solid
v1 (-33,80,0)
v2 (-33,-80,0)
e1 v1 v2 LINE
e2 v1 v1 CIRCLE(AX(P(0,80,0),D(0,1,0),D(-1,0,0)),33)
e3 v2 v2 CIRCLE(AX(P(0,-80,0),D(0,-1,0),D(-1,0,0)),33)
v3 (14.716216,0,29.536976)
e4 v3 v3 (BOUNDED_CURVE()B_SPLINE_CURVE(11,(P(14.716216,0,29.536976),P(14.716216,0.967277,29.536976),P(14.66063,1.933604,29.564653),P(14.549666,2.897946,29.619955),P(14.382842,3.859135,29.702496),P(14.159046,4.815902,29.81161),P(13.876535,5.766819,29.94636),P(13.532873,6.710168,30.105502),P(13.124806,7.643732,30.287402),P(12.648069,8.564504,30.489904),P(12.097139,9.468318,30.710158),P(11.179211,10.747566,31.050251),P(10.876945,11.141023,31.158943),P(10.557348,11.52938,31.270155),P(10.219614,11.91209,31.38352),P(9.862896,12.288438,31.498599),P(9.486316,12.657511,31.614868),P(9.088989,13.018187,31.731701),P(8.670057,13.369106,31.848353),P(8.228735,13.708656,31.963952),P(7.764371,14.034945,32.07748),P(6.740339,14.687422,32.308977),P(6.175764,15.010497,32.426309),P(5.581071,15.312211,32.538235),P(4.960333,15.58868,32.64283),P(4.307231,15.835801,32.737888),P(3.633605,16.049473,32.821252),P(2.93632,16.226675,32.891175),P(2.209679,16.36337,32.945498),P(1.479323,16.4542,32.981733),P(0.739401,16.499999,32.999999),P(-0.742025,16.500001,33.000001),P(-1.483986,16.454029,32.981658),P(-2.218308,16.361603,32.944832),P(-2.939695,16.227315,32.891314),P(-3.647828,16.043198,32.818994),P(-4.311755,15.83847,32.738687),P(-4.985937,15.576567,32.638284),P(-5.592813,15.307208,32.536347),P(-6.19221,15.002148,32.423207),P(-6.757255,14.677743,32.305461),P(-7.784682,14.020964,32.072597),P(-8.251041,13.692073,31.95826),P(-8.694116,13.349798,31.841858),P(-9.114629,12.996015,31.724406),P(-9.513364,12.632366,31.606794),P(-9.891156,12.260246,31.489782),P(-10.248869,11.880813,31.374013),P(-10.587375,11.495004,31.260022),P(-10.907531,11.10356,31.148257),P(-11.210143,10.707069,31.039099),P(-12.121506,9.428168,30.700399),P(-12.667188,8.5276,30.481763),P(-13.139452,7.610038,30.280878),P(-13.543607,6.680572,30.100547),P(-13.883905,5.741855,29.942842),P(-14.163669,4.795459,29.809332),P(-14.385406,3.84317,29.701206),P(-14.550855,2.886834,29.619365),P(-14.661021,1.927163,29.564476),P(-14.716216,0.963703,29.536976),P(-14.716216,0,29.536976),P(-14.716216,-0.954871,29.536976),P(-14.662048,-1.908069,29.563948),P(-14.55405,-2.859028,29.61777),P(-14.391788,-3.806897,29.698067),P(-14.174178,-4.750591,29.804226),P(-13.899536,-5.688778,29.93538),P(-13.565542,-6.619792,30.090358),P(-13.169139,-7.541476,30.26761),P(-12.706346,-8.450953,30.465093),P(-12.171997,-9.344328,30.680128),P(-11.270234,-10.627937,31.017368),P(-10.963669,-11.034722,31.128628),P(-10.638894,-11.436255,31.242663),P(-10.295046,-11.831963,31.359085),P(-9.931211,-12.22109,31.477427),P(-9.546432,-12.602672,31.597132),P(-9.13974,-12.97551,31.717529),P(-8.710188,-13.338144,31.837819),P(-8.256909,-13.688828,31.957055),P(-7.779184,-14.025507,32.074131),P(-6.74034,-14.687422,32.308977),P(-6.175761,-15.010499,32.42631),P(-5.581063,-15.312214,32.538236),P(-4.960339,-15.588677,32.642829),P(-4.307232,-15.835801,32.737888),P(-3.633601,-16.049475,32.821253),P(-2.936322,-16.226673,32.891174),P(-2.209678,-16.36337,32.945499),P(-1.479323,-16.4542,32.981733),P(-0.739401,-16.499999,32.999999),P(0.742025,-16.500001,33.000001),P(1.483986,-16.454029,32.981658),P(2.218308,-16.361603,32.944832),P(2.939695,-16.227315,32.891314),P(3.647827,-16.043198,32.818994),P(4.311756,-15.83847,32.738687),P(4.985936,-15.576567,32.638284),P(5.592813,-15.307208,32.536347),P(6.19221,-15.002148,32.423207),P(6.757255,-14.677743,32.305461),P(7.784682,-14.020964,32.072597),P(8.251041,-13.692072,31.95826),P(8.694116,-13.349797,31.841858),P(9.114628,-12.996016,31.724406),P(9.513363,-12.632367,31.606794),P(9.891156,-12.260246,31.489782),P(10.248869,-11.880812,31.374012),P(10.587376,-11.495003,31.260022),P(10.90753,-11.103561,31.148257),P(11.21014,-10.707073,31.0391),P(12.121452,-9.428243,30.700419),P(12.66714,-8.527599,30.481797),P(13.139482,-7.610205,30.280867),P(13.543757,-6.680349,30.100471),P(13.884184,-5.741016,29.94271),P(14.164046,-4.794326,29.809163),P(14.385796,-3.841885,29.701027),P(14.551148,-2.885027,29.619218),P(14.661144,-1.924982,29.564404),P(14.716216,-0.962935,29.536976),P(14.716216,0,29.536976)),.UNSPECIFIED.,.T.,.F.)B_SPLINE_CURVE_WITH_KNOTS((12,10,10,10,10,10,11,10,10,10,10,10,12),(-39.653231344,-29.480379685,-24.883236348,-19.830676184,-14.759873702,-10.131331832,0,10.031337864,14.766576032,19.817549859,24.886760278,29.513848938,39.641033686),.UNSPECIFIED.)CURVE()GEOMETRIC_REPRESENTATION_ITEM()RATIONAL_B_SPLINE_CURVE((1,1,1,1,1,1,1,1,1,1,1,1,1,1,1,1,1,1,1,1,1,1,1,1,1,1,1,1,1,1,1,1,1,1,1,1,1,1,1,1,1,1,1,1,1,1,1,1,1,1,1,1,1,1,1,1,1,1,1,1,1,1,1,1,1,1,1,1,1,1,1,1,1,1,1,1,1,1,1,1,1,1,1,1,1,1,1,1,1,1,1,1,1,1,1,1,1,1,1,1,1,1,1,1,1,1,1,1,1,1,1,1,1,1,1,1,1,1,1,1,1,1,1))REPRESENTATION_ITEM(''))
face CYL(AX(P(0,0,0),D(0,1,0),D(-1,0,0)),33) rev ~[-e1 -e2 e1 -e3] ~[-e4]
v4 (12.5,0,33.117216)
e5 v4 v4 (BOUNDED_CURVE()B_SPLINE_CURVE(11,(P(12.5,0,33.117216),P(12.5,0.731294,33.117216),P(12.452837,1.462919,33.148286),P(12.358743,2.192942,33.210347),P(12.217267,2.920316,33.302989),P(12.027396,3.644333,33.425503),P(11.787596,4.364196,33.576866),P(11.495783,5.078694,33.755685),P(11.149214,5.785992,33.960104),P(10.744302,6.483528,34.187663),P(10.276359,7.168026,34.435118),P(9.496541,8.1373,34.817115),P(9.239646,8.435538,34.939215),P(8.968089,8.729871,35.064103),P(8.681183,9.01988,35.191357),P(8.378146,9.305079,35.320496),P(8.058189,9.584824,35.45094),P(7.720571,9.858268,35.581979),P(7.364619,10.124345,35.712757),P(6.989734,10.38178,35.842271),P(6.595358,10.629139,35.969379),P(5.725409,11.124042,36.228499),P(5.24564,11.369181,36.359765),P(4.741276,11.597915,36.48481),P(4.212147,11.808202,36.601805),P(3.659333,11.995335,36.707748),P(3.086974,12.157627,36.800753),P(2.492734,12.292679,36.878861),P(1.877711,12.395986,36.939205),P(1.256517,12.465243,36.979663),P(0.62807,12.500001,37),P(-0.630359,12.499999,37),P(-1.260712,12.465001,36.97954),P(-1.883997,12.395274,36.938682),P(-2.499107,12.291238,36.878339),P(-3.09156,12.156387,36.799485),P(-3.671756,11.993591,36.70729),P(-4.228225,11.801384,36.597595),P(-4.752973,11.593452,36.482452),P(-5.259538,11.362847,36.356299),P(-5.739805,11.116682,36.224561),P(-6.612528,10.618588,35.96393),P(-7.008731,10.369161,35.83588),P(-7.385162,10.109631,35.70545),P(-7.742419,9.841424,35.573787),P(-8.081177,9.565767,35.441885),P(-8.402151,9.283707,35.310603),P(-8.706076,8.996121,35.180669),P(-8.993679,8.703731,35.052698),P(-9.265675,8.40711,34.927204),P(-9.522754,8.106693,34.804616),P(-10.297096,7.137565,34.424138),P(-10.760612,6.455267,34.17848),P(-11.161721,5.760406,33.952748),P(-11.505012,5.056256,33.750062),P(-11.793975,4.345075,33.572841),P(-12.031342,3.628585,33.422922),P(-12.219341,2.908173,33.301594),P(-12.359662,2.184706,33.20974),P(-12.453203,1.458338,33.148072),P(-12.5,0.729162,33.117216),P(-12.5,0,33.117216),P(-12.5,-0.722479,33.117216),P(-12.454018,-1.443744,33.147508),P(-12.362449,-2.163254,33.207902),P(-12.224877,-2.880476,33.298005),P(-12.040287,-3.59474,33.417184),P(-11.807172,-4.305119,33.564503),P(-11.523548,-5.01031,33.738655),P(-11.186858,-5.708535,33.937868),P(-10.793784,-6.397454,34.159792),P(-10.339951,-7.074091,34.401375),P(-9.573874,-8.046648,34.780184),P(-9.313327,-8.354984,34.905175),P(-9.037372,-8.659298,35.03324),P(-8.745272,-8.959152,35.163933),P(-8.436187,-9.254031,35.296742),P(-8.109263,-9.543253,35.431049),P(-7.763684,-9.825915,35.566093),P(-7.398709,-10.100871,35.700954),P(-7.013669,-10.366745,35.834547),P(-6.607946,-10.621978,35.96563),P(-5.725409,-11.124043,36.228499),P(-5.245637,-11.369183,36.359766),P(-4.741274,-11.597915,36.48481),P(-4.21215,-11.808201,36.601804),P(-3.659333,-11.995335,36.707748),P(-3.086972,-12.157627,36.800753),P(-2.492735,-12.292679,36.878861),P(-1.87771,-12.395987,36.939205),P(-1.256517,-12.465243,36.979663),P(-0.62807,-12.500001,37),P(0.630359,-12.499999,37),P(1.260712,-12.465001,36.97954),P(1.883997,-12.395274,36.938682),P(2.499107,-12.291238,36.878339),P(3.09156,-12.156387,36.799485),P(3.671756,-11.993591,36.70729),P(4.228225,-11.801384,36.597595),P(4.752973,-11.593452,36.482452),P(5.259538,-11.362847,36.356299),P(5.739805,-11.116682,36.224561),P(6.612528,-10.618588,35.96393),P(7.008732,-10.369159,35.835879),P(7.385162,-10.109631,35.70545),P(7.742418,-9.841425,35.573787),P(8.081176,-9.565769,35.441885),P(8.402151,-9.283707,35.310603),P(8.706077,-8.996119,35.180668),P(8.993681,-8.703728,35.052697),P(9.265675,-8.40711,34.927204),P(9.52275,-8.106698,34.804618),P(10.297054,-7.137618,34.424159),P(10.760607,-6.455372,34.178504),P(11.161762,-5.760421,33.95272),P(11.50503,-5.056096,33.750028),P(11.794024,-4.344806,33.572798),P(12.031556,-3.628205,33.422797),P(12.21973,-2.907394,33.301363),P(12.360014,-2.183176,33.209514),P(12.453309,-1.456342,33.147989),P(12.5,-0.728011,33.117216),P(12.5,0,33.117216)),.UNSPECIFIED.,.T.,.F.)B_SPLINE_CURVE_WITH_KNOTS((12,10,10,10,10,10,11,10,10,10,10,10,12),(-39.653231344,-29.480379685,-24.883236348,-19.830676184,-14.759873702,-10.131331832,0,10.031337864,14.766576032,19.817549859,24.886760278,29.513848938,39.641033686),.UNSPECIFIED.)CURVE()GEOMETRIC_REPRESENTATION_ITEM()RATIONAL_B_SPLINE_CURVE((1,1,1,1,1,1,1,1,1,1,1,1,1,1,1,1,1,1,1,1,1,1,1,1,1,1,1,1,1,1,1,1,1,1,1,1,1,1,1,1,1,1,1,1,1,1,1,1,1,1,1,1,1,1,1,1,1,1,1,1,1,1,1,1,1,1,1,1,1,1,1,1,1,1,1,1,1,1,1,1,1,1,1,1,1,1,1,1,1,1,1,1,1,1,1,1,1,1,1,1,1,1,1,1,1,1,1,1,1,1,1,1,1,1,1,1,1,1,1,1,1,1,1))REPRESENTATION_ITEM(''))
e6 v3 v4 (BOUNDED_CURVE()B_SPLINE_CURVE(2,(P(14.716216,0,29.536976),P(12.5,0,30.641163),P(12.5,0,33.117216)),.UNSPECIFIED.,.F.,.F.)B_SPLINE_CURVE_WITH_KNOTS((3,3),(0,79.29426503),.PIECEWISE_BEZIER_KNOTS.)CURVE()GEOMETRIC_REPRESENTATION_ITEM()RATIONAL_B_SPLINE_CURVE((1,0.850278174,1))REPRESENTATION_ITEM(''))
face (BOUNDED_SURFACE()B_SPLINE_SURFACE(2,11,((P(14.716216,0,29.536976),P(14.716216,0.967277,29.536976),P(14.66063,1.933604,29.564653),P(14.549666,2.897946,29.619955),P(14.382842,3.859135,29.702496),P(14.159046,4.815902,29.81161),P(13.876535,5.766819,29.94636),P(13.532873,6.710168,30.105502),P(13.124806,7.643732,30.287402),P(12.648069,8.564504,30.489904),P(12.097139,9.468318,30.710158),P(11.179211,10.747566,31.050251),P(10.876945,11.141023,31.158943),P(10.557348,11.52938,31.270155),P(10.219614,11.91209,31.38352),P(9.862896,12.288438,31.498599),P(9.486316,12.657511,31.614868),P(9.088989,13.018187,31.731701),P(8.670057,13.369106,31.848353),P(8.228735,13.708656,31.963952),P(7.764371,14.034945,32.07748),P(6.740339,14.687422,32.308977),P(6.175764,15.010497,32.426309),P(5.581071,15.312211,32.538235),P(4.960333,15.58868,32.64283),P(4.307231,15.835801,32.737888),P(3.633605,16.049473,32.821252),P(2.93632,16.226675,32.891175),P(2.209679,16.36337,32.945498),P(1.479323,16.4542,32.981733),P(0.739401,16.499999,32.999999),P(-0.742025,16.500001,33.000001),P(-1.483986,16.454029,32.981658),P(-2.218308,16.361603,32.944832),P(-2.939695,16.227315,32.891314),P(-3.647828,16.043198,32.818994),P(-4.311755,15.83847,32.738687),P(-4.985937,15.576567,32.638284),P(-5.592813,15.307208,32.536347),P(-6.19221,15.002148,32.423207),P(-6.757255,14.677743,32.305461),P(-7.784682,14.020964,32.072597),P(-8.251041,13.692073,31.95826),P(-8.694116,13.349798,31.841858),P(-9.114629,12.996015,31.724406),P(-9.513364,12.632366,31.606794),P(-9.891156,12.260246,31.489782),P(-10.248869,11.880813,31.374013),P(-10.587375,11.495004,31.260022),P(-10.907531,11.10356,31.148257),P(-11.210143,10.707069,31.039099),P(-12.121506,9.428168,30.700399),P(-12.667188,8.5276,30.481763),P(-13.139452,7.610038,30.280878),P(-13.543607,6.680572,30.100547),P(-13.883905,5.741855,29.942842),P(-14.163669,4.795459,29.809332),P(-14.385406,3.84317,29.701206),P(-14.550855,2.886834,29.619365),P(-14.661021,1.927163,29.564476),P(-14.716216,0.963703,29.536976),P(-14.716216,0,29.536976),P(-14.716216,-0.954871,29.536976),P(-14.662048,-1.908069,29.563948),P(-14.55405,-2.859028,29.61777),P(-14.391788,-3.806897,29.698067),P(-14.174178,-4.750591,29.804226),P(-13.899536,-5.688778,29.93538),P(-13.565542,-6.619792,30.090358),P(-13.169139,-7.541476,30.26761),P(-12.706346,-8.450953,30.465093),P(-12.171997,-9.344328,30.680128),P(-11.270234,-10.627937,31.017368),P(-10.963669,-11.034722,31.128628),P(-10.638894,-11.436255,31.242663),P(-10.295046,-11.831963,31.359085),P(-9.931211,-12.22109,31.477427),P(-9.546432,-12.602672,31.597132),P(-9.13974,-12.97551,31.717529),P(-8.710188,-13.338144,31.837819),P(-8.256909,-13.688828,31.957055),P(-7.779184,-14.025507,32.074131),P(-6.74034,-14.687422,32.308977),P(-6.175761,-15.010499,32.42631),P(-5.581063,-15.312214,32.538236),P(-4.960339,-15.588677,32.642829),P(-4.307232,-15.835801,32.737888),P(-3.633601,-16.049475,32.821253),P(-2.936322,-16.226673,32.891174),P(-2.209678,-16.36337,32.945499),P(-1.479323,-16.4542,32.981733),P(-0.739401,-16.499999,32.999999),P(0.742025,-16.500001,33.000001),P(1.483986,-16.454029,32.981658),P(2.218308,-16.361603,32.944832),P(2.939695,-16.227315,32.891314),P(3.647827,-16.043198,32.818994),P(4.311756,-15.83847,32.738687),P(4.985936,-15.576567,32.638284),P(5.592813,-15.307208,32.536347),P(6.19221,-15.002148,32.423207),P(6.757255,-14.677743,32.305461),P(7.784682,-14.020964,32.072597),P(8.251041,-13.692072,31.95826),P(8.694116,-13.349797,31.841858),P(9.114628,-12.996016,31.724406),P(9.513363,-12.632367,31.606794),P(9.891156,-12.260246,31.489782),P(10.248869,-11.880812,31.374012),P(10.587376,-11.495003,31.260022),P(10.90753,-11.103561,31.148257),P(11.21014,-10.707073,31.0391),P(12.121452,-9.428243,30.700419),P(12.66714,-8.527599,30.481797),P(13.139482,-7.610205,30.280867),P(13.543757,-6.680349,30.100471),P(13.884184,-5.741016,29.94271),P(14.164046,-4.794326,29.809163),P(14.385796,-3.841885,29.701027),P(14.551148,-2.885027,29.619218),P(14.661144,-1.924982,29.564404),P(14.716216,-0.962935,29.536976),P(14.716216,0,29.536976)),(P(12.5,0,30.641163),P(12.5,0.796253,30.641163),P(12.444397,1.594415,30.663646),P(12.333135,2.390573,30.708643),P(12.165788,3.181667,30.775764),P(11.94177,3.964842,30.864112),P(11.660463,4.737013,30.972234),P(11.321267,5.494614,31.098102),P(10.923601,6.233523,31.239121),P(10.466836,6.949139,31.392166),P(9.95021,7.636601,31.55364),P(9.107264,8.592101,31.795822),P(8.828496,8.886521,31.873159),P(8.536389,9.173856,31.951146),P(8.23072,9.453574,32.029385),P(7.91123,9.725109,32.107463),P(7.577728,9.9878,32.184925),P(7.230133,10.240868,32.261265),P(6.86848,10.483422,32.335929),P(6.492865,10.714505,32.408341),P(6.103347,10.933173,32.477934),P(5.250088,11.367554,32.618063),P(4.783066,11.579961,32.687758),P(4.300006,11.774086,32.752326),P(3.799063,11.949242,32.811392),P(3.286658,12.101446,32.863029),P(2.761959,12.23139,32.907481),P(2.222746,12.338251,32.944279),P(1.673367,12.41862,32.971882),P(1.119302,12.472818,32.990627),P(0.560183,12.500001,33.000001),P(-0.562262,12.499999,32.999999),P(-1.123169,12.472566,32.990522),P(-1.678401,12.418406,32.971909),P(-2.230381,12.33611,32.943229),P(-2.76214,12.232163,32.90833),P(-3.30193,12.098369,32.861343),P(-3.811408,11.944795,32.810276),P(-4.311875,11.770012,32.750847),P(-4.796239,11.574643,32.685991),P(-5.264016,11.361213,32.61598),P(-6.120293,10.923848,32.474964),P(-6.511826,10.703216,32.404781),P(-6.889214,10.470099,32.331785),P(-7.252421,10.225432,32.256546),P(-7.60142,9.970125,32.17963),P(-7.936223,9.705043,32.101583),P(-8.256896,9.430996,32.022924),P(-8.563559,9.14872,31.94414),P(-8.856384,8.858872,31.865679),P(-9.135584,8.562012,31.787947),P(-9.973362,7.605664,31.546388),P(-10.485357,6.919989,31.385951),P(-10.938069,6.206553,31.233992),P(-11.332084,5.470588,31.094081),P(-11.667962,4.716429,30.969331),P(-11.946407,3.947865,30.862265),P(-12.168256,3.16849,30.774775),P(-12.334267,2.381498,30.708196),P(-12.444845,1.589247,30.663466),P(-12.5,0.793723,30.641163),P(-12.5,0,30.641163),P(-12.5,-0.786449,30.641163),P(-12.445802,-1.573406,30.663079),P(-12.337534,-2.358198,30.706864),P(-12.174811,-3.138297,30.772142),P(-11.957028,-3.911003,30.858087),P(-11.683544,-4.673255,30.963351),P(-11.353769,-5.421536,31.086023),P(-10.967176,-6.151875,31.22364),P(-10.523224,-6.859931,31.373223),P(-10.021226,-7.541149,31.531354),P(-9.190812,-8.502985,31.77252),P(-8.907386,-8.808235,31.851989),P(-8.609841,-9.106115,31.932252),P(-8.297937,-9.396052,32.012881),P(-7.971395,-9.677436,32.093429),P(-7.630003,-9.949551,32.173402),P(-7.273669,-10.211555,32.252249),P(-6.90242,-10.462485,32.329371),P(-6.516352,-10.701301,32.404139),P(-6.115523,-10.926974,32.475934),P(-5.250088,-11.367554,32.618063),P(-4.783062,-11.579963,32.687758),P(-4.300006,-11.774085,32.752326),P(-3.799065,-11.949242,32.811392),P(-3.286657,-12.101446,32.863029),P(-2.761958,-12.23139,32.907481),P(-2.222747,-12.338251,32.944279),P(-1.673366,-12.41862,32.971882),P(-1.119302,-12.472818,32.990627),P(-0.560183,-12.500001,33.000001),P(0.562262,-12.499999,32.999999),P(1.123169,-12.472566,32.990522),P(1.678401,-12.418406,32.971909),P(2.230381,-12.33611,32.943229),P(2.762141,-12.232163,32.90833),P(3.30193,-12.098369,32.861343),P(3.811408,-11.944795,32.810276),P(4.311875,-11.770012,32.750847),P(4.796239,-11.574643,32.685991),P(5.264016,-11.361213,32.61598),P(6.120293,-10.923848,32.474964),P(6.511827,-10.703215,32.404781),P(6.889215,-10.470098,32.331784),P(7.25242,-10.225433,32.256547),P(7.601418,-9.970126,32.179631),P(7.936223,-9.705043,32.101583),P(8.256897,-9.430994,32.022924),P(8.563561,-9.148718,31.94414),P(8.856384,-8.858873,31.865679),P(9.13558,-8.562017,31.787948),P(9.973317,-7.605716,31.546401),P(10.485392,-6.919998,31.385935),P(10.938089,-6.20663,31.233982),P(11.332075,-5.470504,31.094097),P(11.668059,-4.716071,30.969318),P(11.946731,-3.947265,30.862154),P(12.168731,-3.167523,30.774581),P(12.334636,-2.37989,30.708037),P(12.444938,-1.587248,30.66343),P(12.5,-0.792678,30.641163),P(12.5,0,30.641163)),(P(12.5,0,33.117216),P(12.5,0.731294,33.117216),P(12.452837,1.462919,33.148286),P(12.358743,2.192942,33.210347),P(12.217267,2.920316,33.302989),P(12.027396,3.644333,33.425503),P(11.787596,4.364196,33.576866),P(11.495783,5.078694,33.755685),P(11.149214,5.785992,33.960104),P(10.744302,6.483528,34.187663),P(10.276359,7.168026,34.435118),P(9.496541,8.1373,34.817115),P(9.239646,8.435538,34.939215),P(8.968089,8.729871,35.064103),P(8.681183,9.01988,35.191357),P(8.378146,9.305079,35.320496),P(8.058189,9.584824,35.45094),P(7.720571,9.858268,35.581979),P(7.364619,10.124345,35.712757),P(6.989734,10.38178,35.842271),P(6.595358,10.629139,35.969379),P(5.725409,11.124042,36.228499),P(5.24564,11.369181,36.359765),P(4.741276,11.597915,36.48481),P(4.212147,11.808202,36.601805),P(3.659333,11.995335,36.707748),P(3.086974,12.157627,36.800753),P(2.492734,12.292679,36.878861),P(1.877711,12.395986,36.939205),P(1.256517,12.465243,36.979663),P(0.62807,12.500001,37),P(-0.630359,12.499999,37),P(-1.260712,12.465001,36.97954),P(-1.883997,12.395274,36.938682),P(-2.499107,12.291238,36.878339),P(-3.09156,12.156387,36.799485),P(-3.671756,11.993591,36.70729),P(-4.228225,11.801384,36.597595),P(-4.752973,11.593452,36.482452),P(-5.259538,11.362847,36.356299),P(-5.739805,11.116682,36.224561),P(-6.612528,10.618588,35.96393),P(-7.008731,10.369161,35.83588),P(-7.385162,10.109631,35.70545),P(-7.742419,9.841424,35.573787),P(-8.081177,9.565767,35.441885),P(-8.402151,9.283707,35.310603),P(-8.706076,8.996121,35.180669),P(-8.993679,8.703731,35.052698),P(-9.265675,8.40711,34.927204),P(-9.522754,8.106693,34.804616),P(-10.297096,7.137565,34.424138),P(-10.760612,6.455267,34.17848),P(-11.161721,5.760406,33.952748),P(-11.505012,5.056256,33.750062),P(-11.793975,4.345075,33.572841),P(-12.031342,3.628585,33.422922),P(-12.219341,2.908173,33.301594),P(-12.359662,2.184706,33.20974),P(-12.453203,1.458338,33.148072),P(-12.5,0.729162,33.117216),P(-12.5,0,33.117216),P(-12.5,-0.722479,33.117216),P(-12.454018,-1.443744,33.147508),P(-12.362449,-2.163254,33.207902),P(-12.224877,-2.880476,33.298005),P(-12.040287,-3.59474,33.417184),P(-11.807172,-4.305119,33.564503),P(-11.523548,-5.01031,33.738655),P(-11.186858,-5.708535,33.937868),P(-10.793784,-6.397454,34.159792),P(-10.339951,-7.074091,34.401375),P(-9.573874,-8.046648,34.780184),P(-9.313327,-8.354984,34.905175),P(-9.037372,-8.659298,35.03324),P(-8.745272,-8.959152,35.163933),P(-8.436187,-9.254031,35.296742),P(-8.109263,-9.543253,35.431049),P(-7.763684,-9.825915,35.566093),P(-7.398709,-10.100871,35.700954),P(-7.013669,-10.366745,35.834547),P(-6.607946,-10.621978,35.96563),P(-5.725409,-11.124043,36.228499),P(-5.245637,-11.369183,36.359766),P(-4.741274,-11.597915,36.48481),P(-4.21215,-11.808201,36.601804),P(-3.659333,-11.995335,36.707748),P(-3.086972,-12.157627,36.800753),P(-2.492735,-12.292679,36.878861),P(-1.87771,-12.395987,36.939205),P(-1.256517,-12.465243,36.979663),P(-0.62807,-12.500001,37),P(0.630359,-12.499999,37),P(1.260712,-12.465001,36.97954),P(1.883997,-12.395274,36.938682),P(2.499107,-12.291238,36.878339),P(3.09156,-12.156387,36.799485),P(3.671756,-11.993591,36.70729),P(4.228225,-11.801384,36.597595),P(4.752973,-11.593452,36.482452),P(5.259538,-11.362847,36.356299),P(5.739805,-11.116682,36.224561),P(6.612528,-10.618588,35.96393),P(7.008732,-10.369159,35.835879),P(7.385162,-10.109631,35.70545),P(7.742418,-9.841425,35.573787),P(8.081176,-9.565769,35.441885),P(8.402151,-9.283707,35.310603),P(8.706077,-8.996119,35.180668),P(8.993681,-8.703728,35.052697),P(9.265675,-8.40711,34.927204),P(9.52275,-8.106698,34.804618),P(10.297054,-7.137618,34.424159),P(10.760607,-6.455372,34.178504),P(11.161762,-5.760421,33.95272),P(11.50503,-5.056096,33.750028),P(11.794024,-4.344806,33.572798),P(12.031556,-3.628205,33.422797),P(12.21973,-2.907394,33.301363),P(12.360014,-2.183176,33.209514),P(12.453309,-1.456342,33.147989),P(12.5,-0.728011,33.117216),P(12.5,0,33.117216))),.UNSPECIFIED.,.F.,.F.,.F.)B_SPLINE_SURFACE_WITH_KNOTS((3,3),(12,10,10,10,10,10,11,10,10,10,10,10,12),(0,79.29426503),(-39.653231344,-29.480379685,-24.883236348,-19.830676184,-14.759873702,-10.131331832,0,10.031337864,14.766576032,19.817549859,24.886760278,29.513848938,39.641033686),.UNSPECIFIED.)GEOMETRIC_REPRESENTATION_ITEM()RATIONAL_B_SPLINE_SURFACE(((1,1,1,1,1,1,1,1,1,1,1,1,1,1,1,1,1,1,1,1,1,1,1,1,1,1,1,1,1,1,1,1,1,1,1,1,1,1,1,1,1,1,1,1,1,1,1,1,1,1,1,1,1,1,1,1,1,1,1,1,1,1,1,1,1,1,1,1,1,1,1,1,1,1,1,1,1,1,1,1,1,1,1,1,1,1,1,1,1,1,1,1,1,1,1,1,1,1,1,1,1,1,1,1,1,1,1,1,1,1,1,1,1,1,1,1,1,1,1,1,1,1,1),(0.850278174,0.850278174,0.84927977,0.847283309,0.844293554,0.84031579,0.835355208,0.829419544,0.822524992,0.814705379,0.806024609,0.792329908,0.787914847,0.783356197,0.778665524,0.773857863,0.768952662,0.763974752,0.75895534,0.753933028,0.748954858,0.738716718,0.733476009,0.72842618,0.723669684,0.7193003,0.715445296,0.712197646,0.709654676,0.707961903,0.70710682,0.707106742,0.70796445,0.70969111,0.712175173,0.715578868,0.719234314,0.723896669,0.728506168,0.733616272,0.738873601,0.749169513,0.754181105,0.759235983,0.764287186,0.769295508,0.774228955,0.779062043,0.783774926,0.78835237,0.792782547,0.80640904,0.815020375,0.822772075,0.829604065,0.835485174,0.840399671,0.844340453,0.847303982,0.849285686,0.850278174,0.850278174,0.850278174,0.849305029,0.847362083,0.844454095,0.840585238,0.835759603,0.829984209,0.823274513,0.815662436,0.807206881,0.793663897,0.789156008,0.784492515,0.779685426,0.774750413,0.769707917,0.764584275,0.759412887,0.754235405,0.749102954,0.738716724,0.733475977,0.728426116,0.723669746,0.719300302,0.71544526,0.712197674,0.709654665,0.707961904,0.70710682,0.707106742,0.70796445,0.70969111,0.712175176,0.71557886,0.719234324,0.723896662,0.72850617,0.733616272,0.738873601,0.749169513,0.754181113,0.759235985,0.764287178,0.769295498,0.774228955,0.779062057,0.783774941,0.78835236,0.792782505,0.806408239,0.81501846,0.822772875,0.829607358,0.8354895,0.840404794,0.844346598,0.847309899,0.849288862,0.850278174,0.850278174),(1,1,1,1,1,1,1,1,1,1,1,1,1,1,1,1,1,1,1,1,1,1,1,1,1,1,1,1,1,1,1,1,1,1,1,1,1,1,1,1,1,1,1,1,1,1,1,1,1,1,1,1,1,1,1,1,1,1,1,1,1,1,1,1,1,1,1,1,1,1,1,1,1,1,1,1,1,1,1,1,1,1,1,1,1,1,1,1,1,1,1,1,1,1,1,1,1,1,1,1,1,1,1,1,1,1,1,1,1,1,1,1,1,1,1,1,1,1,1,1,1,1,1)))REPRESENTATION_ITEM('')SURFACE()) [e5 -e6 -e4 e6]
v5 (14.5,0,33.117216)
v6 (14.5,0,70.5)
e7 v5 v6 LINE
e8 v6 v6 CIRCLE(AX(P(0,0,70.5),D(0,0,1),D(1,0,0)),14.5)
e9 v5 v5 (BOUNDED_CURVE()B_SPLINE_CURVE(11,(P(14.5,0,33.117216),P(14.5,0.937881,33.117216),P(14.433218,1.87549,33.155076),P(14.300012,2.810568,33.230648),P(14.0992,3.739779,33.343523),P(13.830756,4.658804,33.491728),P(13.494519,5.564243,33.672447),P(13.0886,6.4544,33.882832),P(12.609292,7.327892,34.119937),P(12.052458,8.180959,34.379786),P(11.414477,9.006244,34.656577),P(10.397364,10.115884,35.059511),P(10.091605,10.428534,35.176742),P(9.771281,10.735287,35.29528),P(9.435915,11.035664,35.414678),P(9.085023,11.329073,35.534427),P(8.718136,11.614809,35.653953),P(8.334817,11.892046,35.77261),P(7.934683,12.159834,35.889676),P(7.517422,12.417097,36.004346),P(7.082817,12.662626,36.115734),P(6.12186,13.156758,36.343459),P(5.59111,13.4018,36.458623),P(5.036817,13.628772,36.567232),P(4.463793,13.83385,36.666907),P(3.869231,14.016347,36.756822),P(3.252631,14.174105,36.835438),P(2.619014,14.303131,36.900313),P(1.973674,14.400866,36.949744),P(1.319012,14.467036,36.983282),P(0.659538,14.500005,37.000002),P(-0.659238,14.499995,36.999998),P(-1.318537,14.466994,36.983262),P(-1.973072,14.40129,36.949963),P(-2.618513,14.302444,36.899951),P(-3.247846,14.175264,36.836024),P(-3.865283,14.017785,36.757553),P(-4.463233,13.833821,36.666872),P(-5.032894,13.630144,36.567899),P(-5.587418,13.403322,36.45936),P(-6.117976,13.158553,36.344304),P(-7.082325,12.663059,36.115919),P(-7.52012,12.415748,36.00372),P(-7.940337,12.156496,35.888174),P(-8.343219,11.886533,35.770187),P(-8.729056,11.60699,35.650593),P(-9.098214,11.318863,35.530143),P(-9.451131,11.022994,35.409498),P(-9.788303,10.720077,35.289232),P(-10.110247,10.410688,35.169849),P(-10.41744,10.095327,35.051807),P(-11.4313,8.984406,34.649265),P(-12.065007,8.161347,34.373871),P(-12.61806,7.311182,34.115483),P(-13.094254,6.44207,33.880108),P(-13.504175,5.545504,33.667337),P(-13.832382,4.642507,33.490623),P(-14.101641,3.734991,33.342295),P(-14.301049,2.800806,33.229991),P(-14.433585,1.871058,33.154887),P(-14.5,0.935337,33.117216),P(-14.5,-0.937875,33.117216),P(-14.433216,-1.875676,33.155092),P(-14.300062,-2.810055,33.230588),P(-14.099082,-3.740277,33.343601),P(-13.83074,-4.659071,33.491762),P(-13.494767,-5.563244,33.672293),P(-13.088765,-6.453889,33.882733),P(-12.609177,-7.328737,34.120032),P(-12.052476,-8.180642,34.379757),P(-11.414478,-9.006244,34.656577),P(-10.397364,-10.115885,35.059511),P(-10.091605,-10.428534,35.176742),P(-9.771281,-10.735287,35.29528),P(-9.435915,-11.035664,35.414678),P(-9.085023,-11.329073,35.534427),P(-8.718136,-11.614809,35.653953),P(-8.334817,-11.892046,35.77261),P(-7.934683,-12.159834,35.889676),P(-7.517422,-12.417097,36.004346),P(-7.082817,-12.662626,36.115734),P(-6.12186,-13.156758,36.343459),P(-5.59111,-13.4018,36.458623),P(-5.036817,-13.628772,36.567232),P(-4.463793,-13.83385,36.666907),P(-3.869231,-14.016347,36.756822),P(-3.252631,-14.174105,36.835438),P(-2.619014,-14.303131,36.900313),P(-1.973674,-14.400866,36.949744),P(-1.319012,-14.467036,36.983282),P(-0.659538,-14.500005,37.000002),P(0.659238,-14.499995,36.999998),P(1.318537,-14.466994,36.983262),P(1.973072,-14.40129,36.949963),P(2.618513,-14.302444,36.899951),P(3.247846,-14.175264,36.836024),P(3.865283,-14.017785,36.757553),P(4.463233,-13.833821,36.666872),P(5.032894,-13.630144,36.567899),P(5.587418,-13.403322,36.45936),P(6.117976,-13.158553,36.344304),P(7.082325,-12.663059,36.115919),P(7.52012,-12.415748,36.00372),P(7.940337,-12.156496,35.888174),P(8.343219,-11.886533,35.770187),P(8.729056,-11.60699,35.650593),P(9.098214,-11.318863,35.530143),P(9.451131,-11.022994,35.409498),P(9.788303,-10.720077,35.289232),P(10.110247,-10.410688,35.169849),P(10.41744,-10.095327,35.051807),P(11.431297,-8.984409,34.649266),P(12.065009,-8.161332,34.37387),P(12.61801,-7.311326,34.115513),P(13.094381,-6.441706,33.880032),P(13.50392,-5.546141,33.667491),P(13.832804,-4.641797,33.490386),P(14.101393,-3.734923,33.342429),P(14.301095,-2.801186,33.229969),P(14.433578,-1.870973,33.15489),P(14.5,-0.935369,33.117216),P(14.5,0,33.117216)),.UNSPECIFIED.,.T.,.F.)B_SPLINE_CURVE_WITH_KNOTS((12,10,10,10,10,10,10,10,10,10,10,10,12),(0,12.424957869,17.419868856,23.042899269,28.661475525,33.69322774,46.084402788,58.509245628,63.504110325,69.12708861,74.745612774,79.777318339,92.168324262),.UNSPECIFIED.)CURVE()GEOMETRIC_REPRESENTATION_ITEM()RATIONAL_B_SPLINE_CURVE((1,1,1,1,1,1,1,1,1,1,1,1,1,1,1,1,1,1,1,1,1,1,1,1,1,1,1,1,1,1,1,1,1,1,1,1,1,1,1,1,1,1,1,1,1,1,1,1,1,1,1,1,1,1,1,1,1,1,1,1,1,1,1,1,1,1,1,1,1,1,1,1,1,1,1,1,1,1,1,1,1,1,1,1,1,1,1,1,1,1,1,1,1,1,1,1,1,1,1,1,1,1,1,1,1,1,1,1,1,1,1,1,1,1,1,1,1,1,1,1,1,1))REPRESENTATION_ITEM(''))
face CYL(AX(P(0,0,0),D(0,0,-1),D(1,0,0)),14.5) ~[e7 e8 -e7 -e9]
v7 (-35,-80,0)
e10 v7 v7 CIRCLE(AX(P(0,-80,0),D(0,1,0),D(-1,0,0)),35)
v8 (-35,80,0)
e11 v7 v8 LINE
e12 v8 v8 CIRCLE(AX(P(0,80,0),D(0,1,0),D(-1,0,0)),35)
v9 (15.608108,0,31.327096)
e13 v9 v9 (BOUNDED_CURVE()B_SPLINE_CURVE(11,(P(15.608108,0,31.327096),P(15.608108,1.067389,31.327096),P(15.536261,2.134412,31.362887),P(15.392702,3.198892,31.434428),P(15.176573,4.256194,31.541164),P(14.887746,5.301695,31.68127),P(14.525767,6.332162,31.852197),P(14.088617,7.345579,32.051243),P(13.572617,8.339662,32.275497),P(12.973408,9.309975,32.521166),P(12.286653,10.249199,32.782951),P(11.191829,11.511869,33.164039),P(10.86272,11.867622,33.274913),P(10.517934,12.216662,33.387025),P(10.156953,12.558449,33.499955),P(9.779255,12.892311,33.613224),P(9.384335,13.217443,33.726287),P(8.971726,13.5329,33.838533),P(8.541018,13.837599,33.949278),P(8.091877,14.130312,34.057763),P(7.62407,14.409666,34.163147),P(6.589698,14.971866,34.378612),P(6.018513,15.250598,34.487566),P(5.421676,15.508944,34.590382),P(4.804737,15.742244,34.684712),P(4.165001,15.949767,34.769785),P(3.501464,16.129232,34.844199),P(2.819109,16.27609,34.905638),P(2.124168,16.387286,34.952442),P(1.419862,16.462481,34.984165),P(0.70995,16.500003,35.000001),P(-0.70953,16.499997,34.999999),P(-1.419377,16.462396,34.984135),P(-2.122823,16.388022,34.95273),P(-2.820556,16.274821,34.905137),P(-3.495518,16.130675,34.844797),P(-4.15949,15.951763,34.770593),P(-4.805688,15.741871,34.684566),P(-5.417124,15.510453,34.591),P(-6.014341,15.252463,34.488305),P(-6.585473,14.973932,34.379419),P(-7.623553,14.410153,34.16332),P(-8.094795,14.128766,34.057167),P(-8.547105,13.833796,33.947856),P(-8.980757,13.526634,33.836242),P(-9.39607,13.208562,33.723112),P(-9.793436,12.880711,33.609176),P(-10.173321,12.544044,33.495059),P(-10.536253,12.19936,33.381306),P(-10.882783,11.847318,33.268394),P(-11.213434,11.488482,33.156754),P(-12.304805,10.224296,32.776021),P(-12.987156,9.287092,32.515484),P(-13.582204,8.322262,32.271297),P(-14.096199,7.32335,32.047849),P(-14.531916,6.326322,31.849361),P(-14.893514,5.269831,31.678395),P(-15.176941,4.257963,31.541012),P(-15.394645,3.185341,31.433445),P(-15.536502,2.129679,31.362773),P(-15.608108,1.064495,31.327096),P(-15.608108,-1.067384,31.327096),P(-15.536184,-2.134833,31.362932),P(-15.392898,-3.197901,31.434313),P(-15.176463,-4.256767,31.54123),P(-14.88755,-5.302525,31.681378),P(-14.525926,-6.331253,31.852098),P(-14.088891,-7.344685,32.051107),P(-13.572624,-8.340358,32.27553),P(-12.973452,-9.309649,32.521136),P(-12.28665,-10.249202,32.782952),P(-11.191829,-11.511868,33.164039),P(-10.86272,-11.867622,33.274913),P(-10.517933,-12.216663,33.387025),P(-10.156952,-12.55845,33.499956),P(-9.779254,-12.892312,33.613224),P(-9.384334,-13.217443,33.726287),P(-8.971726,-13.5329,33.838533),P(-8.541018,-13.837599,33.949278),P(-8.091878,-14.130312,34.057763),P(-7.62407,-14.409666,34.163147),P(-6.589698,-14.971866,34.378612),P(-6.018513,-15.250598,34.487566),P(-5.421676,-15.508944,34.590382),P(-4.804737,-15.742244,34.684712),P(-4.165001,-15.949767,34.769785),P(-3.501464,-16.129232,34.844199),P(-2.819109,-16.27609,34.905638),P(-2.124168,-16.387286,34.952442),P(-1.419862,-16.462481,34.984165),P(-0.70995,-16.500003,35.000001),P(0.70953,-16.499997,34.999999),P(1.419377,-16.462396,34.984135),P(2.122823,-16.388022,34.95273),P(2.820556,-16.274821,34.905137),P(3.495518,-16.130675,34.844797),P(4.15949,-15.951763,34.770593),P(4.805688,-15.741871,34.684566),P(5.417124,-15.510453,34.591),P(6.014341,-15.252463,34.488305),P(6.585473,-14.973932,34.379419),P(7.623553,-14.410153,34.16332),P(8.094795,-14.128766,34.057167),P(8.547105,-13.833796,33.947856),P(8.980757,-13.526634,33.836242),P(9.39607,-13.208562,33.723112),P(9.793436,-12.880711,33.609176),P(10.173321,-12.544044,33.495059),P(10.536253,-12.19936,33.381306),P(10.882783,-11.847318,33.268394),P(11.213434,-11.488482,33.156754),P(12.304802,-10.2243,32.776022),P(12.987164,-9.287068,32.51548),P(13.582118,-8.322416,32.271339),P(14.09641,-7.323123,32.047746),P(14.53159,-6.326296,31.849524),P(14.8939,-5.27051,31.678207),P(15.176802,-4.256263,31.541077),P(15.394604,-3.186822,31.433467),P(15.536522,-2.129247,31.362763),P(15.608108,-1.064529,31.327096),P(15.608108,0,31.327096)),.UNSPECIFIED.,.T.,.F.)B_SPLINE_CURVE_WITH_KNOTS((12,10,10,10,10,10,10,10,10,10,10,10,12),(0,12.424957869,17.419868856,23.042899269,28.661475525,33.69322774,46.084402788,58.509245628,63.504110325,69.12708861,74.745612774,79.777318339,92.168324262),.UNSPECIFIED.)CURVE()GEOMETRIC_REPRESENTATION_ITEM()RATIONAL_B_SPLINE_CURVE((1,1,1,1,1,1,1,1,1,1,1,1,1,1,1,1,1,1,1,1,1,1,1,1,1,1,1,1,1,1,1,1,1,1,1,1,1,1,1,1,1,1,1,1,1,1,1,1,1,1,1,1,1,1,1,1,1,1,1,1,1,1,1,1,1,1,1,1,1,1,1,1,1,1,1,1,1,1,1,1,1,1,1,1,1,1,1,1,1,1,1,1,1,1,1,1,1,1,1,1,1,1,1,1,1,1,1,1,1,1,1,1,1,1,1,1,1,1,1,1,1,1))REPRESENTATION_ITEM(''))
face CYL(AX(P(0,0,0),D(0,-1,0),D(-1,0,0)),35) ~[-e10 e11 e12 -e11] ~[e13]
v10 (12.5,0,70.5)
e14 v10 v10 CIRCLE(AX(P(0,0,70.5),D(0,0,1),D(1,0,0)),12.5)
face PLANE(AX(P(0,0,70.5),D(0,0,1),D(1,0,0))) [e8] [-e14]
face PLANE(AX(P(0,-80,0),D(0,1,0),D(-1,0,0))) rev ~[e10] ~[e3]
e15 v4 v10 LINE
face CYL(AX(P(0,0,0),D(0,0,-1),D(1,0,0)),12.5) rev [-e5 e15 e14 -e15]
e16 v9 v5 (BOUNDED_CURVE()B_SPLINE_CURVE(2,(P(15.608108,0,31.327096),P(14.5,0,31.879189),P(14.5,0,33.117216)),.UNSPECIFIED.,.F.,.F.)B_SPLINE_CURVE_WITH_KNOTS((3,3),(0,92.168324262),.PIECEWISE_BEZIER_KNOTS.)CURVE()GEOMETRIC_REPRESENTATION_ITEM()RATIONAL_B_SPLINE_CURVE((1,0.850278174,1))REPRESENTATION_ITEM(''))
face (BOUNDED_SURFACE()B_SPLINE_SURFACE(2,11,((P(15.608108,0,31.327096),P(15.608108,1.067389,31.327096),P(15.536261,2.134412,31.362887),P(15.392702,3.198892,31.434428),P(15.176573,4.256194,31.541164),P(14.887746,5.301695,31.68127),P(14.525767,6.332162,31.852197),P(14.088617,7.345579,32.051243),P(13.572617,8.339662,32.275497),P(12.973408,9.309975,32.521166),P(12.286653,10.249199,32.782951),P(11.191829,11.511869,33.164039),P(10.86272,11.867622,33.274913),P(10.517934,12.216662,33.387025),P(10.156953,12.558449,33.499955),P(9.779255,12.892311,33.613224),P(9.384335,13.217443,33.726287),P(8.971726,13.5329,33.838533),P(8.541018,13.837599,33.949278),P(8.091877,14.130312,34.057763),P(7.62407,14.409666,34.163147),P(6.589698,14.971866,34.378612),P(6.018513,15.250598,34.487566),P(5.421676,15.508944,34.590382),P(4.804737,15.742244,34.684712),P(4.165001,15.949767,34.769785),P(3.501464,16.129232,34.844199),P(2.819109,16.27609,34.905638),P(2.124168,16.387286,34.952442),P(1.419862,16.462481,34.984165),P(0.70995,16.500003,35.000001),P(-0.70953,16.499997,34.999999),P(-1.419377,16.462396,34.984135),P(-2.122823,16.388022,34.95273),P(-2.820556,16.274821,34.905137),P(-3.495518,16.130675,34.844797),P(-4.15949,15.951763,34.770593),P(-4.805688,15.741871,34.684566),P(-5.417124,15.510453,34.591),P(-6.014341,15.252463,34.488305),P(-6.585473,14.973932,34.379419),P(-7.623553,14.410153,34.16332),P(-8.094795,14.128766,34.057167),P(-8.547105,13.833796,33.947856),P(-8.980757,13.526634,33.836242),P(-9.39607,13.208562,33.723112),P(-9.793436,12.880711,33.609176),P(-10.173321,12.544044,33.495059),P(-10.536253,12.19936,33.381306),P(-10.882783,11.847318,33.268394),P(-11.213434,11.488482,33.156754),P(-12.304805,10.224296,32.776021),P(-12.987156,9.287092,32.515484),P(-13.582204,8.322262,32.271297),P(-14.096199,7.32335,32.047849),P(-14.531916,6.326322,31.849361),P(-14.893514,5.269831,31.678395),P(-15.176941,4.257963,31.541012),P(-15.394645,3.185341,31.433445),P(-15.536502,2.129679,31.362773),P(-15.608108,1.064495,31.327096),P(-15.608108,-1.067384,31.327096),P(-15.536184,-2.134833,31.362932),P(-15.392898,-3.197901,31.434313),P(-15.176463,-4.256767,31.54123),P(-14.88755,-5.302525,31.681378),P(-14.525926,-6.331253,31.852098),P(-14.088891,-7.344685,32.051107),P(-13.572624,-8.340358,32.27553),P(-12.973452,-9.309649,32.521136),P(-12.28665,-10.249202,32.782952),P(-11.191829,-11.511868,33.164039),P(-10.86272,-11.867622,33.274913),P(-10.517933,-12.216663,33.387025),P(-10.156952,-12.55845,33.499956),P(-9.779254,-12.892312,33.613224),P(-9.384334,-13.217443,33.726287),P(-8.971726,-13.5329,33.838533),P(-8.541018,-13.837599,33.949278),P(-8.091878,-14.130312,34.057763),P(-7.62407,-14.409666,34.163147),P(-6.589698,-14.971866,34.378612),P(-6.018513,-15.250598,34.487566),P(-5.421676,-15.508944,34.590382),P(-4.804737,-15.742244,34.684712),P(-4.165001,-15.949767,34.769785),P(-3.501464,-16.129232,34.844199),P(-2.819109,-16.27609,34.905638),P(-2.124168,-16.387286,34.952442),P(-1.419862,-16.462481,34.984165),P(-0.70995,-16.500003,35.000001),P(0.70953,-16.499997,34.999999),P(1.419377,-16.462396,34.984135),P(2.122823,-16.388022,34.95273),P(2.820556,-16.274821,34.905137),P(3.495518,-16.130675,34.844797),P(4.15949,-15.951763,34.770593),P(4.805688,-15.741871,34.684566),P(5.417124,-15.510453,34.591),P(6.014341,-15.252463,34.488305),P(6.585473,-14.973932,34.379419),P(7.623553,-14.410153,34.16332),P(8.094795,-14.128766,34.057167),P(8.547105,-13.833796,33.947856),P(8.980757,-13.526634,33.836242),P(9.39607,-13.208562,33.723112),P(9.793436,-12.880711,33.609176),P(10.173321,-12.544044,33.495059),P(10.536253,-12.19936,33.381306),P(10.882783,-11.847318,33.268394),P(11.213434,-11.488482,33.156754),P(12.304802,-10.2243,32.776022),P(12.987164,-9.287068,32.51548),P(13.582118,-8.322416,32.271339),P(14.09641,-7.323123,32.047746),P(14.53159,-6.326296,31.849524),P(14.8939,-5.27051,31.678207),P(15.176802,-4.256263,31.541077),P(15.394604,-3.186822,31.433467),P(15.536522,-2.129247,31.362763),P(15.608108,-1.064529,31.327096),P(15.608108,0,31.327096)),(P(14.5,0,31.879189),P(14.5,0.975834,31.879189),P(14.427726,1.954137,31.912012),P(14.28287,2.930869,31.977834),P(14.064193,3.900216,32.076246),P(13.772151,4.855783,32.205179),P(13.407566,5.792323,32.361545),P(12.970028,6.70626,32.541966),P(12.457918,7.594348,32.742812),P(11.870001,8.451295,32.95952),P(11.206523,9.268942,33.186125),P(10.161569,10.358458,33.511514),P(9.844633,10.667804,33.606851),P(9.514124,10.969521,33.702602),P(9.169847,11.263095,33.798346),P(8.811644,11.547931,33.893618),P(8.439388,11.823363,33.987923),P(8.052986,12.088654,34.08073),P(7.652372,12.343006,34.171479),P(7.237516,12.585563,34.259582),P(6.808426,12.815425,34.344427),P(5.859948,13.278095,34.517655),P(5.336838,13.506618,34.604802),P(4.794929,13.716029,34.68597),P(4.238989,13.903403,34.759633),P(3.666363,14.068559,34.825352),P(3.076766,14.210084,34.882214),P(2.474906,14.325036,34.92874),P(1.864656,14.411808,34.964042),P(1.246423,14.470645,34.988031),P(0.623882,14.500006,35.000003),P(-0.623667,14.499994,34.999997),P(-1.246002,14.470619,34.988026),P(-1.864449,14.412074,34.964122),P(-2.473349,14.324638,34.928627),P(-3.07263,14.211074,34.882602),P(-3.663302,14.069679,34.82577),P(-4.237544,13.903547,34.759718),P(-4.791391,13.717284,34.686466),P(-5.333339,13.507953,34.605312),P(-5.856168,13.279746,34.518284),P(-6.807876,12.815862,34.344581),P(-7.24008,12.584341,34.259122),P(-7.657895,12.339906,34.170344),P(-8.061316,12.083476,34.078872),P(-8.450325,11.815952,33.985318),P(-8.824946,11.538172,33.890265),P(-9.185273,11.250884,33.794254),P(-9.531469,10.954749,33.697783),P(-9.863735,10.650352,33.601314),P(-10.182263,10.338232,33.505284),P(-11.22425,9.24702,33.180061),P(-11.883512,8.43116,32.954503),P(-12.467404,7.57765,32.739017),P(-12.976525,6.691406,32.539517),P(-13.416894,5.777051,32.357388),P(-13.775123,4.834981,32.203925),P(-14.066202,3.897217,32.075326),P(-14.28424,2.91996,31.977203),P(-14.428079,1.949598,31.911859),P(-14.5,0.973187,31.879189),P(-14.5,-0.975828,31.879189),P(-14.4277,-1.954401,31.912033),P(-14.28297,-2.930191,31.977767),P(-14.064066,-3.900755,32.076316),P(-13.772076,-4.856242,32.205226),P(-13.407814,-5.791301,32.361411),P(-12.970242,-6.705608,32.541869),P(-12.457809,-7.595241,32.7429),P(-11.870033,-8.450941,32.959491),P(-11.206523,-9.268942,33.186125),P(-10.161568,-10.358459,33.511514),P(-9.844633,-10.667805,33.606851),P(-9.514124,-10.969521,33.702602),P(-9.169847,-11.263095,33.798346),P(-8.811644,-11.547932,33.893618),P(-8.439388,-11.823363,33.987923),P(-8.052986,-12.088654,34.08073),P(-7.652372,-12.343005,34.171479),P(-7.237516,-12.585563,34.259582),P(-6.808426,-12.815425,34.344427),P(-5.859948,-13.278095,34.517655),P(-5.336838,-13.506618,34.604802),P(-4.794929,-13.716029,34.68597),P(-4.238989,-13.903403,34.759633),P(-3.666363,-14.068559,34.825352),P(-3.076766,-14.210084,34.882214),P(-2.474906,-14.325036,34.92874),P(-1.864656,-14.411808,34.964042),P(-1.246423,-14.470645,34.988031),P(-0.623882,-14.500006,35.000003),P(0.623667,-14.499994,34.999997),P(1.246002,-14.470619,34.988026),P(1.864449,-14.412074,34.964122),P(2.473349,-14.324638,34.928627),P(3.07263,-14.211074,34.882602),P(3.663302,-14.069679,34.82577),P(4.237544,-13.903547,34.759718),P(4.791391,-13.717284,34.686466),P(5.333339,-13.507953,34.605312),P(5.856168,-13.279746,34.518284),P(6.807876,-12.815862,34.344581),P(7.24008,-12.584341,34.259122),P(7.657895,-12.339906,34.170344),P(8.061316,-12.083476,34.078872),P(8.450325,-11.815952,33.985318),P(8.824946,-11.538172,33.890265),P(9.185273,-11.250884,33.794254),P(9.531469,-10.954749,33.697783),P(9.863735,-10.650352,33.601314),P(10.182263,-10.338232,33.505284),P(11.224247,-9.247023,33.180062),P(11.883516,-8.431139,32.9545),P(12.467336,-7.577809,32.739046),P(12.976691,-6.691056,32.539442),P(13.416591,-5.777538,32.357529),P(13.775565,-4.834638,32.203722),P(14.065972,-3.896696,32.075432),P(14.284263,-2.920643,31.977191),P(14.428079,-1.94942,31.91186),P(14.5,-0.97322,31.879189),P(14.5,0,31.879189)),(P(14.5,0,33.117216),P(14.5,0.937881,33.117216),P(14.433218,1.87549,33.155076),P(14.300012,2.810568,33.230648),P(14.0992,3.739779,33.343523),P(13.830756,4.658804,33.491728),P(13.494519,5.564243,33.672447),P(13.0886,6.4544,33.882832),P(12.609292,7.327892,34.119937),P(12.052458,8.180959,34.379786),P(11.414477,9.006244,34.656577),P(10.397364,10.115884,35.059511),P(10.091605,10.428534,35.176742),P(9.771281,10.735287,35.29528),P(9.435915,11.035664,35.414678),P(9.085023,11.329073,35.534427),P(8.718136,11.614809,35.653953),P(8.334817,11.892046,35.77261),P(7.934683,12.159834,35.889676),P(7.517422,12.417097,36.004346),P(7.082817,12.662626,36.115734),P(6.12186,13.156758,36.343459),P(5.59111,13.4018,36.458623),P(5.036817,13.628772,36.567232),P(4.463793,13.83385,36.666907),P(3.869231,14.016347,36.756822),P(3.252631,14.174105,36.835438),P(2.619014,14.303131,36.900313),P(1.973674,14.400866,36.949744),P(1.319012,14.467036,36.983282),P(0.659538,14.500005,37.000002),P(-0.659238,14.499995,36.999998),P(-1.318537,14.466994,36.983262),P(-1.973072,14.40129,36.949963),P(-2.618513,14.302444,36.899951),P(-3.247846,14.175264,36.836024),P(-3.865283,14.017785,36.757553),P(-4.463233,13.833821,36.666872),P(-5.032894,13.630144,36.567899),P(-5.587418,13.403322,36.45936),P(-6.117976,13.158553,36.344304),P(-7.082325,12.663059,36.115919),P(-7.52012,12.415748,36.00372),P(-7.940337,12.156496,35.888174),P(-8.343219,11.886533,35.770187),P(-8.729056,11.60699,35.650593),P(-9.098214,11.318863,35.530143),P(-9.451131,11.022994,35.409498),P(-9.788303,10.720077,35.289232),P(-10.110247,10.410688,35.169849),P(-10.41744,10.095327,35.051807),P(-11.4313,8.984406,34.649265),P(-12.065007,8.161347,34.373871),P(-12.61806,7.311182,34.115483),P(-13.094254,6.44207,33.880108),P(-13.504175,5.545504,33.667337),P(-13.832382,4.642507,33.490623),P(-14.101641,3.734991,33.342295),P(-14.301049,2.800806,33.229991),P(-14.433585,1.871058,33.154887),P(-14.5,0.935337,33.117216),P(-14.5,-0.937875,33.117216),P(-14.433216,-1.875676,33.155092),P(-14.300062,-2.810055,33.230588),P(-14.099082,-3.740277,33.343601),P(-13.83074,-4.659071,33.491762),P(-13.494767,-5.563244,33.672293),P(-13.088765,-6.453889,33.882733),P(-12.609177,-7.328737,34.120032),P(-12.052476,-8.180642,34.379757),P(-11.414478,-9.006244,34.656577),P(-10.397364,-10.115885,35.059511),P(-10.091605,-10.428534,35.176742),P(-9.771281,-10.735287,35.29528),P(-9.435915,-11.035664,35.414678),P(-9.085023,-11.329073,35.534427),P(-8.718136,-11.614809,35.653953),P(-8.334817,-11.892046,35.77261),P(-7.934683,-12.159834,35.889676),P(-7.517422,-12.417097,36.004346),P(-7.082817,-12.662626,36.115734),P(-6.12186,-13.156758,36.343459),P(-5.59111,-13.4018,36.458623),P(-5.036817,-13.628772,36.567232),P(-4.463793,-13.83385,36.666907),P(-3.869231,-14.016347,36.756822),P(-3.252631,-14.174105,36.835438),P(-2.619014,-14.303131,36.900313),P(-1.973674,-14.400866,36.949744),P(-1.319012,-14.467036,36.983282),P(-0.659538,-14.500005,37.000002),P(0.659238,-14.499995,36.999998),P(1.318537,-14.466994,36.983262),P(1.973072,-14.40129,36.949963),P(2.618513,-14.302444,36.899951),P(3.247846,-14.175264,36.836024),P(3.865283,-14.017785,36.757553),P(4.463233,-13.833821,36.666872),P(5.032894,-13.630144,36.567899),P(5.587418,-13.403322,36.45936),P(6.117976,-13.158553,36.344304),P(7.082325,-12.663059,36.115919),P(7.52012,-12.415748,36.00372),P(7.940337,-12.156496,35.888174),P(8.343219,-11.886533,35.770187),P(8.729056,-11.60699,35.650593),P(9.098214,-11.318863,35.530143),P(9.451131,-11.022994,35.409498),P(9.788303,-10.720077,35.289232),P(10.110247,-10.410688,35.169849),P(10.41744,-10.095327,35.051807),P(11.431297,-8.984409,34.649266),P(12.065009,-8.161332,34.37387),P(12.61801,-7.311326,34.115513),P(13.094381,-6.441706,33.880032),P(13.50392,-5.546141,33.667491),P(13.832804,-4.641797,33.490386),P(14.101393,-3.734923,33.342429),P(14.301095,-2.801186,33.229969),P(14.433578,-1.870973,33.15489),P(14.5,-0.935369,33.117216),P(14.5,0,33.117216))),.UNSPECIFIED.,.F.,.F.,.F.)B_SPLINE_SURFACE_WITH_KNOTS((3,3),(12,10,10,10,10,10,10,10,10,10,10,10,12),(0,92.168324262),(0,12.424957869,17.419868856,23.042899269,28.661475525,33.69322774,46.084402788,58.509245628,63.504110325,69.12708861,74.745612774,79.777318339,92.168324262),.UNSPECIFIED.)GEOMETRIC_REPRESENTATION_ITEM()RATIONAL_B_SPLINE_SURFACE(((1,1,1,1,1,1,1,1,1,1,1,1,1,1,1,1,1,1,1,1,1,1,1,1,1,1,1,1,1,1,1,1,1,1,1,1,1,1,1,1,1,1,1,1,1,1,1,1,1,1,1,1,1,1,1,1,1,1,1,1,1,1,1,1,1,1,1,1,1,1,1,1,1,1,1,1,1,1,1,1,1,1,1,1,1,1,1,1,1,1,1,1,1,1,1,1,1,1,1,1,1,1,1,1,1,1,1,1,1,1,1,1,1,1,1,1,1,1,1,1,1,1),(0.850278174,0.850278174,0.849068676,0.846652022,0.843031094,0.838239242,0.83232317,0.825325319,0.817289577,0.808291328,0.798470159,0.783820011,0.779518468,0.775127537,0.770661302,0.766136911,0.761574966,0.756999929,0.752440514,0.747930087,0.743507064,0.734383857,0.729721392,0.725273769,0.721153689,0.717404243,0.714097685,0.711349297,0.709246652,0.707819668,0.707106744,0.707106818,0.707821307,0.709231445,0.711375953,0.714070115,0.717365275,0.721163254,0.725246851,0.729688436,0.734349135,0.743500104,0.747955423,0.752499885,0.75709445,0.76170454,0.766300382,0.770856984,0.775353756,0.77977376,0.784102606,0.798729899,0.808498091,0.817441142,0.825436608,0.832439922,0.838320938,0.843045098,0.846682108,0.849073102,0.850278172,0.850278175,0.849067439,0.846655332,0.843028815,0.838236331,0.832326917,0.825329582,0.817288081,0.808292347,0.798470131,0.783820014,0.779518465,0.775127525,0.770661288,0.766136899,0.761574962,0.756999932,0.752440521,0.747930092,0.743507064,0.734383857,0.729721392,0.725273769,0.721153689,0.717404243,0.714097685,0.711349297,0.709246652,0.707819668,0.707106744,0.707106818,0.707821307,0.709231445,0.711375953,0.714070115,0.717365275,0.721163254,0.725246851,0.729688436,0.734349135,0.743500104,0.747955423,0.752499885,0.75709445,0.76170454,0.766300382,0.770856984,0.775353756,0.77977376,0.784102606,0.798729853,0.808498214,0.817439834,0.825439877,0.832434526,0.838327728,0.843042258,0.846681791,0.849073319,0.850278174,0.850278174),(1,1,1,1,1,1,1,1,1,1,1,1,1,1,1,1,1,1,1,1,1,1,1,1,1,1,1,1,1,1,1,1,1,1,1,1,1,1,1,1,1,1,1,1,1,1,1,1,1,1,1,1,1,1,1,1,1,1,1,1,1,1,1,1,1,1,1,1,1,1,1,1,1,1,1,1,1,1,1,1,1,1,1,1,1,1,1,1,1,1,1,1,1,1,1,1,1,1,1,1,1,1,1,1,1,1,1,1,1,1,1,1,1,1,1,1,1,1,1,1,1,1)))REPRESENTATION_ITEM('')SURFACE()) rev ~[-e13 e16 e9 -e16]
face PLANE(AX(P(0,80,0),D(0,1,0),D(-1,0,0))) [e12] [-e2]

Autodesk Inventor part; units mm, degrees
ref_plane "YZ Plane" through (0, 0, 0) normal (1, 0, 0) x (0, 1, 0)
ref_plane "XZ Plane" through (0, 0, 0) normal (0, 1, 0) x (-1, 0, 0)
ref_plane "XY Plane" through (0, 0, 0) normal (0, 0, 1) x (1, 0, 0)
sketch "Szkic8" plane through (0, 0, 0) normal (0, 1, 0) x (-1, 0, 0)
  circle A0 centre (0, 0) radius 35
  circle A1 centre (0, 0) radius 33
  dimension "d53" = 70
  dimension "d54" = 2
extrude "Wyciągnięcie proste2" add sketch "Szkic8" along normal mid plane 160
sketch "Szkic13" plane through (0, 0, 0) normal (0, 0, 1) x (1, 0, 0)
  circle A0 centre (0, 0) radius 14.5
  circle A1 centre (0, 0) radius 12.5
  dimension "d67" = 29
  dimension "d68" = 2
extrude "Wyciągnięcie proste6" add sketch "Szkic13" along normal blind 70.5
sketch "Szkic14" plane through (0, 0, 70.5) normal (0, 0, 1) x (1, 0, 0)
  circle A0 centre (0, 0) radius 12.5 projected
extrude "Wyciągnięcie proste7" cut sketch "Szkic14" against normal blind 70.5
sketch "Szkic15" plane through (0, -80, 0) normal (0, -1, 0) x (1, 0, 0)
  circle A0 centre (0, 0) radius 33 projected
extrude "Wyciągnięcie proste8" cut sketch "Szkic15" against normal blind 160
fillet "Zaokrąglenie3" radius 2 2 edges at (0.0009, 14.5, 35) (-0.0009, -14.5, 35)
fillet "Zaokrąglenie4" radius 4 2 edges at (0.0036, -12.5, 33) (-0.005, 12.5, 33)
equation "\"d53\" = OD"
equation "\"d54\" = THK"
equation "\"d55\" = L1"
equation "\"d67\" = OD2"
equation "\"d68\" = THK"
equation "\"d69\" = L2"
equation "\"d71\" = L2"
equation "\"d73\" = L1"
equation "\"d75\" = THK"
equation "\"d76\" = 2 * THK"
equation "\"SzerokośćGięciaPodcięcia\" = Grubość"
equation "\"RozmiarPodcięciaNarożnika\" = 4 * Grubość"
equation "\"PromieńPrzejścia\" = PromieńGięcia"
equation "\"Rozmiar_promienia_Jacobiego\" = PromieńGięcia"
equation "\"Wielk_odstępu\" = Grubość"
equation "\"d2\" = PromieńGięcia"
equation "\"d23\" = PromieńGięcia"
equation "\"OD\" = 70"
equation "\"THK\" = 2"
equation "\"L1\" = 160"
equation "\"L2\" = 70.5"
equation "\"OD2\" = 29"
equation "\"Grubość\" = 1.5"
equation "\"PromieńGięcia\" = 3"
properties part number "Trójnik red. Ø70_29_70 s=2 L=160" material "304"
